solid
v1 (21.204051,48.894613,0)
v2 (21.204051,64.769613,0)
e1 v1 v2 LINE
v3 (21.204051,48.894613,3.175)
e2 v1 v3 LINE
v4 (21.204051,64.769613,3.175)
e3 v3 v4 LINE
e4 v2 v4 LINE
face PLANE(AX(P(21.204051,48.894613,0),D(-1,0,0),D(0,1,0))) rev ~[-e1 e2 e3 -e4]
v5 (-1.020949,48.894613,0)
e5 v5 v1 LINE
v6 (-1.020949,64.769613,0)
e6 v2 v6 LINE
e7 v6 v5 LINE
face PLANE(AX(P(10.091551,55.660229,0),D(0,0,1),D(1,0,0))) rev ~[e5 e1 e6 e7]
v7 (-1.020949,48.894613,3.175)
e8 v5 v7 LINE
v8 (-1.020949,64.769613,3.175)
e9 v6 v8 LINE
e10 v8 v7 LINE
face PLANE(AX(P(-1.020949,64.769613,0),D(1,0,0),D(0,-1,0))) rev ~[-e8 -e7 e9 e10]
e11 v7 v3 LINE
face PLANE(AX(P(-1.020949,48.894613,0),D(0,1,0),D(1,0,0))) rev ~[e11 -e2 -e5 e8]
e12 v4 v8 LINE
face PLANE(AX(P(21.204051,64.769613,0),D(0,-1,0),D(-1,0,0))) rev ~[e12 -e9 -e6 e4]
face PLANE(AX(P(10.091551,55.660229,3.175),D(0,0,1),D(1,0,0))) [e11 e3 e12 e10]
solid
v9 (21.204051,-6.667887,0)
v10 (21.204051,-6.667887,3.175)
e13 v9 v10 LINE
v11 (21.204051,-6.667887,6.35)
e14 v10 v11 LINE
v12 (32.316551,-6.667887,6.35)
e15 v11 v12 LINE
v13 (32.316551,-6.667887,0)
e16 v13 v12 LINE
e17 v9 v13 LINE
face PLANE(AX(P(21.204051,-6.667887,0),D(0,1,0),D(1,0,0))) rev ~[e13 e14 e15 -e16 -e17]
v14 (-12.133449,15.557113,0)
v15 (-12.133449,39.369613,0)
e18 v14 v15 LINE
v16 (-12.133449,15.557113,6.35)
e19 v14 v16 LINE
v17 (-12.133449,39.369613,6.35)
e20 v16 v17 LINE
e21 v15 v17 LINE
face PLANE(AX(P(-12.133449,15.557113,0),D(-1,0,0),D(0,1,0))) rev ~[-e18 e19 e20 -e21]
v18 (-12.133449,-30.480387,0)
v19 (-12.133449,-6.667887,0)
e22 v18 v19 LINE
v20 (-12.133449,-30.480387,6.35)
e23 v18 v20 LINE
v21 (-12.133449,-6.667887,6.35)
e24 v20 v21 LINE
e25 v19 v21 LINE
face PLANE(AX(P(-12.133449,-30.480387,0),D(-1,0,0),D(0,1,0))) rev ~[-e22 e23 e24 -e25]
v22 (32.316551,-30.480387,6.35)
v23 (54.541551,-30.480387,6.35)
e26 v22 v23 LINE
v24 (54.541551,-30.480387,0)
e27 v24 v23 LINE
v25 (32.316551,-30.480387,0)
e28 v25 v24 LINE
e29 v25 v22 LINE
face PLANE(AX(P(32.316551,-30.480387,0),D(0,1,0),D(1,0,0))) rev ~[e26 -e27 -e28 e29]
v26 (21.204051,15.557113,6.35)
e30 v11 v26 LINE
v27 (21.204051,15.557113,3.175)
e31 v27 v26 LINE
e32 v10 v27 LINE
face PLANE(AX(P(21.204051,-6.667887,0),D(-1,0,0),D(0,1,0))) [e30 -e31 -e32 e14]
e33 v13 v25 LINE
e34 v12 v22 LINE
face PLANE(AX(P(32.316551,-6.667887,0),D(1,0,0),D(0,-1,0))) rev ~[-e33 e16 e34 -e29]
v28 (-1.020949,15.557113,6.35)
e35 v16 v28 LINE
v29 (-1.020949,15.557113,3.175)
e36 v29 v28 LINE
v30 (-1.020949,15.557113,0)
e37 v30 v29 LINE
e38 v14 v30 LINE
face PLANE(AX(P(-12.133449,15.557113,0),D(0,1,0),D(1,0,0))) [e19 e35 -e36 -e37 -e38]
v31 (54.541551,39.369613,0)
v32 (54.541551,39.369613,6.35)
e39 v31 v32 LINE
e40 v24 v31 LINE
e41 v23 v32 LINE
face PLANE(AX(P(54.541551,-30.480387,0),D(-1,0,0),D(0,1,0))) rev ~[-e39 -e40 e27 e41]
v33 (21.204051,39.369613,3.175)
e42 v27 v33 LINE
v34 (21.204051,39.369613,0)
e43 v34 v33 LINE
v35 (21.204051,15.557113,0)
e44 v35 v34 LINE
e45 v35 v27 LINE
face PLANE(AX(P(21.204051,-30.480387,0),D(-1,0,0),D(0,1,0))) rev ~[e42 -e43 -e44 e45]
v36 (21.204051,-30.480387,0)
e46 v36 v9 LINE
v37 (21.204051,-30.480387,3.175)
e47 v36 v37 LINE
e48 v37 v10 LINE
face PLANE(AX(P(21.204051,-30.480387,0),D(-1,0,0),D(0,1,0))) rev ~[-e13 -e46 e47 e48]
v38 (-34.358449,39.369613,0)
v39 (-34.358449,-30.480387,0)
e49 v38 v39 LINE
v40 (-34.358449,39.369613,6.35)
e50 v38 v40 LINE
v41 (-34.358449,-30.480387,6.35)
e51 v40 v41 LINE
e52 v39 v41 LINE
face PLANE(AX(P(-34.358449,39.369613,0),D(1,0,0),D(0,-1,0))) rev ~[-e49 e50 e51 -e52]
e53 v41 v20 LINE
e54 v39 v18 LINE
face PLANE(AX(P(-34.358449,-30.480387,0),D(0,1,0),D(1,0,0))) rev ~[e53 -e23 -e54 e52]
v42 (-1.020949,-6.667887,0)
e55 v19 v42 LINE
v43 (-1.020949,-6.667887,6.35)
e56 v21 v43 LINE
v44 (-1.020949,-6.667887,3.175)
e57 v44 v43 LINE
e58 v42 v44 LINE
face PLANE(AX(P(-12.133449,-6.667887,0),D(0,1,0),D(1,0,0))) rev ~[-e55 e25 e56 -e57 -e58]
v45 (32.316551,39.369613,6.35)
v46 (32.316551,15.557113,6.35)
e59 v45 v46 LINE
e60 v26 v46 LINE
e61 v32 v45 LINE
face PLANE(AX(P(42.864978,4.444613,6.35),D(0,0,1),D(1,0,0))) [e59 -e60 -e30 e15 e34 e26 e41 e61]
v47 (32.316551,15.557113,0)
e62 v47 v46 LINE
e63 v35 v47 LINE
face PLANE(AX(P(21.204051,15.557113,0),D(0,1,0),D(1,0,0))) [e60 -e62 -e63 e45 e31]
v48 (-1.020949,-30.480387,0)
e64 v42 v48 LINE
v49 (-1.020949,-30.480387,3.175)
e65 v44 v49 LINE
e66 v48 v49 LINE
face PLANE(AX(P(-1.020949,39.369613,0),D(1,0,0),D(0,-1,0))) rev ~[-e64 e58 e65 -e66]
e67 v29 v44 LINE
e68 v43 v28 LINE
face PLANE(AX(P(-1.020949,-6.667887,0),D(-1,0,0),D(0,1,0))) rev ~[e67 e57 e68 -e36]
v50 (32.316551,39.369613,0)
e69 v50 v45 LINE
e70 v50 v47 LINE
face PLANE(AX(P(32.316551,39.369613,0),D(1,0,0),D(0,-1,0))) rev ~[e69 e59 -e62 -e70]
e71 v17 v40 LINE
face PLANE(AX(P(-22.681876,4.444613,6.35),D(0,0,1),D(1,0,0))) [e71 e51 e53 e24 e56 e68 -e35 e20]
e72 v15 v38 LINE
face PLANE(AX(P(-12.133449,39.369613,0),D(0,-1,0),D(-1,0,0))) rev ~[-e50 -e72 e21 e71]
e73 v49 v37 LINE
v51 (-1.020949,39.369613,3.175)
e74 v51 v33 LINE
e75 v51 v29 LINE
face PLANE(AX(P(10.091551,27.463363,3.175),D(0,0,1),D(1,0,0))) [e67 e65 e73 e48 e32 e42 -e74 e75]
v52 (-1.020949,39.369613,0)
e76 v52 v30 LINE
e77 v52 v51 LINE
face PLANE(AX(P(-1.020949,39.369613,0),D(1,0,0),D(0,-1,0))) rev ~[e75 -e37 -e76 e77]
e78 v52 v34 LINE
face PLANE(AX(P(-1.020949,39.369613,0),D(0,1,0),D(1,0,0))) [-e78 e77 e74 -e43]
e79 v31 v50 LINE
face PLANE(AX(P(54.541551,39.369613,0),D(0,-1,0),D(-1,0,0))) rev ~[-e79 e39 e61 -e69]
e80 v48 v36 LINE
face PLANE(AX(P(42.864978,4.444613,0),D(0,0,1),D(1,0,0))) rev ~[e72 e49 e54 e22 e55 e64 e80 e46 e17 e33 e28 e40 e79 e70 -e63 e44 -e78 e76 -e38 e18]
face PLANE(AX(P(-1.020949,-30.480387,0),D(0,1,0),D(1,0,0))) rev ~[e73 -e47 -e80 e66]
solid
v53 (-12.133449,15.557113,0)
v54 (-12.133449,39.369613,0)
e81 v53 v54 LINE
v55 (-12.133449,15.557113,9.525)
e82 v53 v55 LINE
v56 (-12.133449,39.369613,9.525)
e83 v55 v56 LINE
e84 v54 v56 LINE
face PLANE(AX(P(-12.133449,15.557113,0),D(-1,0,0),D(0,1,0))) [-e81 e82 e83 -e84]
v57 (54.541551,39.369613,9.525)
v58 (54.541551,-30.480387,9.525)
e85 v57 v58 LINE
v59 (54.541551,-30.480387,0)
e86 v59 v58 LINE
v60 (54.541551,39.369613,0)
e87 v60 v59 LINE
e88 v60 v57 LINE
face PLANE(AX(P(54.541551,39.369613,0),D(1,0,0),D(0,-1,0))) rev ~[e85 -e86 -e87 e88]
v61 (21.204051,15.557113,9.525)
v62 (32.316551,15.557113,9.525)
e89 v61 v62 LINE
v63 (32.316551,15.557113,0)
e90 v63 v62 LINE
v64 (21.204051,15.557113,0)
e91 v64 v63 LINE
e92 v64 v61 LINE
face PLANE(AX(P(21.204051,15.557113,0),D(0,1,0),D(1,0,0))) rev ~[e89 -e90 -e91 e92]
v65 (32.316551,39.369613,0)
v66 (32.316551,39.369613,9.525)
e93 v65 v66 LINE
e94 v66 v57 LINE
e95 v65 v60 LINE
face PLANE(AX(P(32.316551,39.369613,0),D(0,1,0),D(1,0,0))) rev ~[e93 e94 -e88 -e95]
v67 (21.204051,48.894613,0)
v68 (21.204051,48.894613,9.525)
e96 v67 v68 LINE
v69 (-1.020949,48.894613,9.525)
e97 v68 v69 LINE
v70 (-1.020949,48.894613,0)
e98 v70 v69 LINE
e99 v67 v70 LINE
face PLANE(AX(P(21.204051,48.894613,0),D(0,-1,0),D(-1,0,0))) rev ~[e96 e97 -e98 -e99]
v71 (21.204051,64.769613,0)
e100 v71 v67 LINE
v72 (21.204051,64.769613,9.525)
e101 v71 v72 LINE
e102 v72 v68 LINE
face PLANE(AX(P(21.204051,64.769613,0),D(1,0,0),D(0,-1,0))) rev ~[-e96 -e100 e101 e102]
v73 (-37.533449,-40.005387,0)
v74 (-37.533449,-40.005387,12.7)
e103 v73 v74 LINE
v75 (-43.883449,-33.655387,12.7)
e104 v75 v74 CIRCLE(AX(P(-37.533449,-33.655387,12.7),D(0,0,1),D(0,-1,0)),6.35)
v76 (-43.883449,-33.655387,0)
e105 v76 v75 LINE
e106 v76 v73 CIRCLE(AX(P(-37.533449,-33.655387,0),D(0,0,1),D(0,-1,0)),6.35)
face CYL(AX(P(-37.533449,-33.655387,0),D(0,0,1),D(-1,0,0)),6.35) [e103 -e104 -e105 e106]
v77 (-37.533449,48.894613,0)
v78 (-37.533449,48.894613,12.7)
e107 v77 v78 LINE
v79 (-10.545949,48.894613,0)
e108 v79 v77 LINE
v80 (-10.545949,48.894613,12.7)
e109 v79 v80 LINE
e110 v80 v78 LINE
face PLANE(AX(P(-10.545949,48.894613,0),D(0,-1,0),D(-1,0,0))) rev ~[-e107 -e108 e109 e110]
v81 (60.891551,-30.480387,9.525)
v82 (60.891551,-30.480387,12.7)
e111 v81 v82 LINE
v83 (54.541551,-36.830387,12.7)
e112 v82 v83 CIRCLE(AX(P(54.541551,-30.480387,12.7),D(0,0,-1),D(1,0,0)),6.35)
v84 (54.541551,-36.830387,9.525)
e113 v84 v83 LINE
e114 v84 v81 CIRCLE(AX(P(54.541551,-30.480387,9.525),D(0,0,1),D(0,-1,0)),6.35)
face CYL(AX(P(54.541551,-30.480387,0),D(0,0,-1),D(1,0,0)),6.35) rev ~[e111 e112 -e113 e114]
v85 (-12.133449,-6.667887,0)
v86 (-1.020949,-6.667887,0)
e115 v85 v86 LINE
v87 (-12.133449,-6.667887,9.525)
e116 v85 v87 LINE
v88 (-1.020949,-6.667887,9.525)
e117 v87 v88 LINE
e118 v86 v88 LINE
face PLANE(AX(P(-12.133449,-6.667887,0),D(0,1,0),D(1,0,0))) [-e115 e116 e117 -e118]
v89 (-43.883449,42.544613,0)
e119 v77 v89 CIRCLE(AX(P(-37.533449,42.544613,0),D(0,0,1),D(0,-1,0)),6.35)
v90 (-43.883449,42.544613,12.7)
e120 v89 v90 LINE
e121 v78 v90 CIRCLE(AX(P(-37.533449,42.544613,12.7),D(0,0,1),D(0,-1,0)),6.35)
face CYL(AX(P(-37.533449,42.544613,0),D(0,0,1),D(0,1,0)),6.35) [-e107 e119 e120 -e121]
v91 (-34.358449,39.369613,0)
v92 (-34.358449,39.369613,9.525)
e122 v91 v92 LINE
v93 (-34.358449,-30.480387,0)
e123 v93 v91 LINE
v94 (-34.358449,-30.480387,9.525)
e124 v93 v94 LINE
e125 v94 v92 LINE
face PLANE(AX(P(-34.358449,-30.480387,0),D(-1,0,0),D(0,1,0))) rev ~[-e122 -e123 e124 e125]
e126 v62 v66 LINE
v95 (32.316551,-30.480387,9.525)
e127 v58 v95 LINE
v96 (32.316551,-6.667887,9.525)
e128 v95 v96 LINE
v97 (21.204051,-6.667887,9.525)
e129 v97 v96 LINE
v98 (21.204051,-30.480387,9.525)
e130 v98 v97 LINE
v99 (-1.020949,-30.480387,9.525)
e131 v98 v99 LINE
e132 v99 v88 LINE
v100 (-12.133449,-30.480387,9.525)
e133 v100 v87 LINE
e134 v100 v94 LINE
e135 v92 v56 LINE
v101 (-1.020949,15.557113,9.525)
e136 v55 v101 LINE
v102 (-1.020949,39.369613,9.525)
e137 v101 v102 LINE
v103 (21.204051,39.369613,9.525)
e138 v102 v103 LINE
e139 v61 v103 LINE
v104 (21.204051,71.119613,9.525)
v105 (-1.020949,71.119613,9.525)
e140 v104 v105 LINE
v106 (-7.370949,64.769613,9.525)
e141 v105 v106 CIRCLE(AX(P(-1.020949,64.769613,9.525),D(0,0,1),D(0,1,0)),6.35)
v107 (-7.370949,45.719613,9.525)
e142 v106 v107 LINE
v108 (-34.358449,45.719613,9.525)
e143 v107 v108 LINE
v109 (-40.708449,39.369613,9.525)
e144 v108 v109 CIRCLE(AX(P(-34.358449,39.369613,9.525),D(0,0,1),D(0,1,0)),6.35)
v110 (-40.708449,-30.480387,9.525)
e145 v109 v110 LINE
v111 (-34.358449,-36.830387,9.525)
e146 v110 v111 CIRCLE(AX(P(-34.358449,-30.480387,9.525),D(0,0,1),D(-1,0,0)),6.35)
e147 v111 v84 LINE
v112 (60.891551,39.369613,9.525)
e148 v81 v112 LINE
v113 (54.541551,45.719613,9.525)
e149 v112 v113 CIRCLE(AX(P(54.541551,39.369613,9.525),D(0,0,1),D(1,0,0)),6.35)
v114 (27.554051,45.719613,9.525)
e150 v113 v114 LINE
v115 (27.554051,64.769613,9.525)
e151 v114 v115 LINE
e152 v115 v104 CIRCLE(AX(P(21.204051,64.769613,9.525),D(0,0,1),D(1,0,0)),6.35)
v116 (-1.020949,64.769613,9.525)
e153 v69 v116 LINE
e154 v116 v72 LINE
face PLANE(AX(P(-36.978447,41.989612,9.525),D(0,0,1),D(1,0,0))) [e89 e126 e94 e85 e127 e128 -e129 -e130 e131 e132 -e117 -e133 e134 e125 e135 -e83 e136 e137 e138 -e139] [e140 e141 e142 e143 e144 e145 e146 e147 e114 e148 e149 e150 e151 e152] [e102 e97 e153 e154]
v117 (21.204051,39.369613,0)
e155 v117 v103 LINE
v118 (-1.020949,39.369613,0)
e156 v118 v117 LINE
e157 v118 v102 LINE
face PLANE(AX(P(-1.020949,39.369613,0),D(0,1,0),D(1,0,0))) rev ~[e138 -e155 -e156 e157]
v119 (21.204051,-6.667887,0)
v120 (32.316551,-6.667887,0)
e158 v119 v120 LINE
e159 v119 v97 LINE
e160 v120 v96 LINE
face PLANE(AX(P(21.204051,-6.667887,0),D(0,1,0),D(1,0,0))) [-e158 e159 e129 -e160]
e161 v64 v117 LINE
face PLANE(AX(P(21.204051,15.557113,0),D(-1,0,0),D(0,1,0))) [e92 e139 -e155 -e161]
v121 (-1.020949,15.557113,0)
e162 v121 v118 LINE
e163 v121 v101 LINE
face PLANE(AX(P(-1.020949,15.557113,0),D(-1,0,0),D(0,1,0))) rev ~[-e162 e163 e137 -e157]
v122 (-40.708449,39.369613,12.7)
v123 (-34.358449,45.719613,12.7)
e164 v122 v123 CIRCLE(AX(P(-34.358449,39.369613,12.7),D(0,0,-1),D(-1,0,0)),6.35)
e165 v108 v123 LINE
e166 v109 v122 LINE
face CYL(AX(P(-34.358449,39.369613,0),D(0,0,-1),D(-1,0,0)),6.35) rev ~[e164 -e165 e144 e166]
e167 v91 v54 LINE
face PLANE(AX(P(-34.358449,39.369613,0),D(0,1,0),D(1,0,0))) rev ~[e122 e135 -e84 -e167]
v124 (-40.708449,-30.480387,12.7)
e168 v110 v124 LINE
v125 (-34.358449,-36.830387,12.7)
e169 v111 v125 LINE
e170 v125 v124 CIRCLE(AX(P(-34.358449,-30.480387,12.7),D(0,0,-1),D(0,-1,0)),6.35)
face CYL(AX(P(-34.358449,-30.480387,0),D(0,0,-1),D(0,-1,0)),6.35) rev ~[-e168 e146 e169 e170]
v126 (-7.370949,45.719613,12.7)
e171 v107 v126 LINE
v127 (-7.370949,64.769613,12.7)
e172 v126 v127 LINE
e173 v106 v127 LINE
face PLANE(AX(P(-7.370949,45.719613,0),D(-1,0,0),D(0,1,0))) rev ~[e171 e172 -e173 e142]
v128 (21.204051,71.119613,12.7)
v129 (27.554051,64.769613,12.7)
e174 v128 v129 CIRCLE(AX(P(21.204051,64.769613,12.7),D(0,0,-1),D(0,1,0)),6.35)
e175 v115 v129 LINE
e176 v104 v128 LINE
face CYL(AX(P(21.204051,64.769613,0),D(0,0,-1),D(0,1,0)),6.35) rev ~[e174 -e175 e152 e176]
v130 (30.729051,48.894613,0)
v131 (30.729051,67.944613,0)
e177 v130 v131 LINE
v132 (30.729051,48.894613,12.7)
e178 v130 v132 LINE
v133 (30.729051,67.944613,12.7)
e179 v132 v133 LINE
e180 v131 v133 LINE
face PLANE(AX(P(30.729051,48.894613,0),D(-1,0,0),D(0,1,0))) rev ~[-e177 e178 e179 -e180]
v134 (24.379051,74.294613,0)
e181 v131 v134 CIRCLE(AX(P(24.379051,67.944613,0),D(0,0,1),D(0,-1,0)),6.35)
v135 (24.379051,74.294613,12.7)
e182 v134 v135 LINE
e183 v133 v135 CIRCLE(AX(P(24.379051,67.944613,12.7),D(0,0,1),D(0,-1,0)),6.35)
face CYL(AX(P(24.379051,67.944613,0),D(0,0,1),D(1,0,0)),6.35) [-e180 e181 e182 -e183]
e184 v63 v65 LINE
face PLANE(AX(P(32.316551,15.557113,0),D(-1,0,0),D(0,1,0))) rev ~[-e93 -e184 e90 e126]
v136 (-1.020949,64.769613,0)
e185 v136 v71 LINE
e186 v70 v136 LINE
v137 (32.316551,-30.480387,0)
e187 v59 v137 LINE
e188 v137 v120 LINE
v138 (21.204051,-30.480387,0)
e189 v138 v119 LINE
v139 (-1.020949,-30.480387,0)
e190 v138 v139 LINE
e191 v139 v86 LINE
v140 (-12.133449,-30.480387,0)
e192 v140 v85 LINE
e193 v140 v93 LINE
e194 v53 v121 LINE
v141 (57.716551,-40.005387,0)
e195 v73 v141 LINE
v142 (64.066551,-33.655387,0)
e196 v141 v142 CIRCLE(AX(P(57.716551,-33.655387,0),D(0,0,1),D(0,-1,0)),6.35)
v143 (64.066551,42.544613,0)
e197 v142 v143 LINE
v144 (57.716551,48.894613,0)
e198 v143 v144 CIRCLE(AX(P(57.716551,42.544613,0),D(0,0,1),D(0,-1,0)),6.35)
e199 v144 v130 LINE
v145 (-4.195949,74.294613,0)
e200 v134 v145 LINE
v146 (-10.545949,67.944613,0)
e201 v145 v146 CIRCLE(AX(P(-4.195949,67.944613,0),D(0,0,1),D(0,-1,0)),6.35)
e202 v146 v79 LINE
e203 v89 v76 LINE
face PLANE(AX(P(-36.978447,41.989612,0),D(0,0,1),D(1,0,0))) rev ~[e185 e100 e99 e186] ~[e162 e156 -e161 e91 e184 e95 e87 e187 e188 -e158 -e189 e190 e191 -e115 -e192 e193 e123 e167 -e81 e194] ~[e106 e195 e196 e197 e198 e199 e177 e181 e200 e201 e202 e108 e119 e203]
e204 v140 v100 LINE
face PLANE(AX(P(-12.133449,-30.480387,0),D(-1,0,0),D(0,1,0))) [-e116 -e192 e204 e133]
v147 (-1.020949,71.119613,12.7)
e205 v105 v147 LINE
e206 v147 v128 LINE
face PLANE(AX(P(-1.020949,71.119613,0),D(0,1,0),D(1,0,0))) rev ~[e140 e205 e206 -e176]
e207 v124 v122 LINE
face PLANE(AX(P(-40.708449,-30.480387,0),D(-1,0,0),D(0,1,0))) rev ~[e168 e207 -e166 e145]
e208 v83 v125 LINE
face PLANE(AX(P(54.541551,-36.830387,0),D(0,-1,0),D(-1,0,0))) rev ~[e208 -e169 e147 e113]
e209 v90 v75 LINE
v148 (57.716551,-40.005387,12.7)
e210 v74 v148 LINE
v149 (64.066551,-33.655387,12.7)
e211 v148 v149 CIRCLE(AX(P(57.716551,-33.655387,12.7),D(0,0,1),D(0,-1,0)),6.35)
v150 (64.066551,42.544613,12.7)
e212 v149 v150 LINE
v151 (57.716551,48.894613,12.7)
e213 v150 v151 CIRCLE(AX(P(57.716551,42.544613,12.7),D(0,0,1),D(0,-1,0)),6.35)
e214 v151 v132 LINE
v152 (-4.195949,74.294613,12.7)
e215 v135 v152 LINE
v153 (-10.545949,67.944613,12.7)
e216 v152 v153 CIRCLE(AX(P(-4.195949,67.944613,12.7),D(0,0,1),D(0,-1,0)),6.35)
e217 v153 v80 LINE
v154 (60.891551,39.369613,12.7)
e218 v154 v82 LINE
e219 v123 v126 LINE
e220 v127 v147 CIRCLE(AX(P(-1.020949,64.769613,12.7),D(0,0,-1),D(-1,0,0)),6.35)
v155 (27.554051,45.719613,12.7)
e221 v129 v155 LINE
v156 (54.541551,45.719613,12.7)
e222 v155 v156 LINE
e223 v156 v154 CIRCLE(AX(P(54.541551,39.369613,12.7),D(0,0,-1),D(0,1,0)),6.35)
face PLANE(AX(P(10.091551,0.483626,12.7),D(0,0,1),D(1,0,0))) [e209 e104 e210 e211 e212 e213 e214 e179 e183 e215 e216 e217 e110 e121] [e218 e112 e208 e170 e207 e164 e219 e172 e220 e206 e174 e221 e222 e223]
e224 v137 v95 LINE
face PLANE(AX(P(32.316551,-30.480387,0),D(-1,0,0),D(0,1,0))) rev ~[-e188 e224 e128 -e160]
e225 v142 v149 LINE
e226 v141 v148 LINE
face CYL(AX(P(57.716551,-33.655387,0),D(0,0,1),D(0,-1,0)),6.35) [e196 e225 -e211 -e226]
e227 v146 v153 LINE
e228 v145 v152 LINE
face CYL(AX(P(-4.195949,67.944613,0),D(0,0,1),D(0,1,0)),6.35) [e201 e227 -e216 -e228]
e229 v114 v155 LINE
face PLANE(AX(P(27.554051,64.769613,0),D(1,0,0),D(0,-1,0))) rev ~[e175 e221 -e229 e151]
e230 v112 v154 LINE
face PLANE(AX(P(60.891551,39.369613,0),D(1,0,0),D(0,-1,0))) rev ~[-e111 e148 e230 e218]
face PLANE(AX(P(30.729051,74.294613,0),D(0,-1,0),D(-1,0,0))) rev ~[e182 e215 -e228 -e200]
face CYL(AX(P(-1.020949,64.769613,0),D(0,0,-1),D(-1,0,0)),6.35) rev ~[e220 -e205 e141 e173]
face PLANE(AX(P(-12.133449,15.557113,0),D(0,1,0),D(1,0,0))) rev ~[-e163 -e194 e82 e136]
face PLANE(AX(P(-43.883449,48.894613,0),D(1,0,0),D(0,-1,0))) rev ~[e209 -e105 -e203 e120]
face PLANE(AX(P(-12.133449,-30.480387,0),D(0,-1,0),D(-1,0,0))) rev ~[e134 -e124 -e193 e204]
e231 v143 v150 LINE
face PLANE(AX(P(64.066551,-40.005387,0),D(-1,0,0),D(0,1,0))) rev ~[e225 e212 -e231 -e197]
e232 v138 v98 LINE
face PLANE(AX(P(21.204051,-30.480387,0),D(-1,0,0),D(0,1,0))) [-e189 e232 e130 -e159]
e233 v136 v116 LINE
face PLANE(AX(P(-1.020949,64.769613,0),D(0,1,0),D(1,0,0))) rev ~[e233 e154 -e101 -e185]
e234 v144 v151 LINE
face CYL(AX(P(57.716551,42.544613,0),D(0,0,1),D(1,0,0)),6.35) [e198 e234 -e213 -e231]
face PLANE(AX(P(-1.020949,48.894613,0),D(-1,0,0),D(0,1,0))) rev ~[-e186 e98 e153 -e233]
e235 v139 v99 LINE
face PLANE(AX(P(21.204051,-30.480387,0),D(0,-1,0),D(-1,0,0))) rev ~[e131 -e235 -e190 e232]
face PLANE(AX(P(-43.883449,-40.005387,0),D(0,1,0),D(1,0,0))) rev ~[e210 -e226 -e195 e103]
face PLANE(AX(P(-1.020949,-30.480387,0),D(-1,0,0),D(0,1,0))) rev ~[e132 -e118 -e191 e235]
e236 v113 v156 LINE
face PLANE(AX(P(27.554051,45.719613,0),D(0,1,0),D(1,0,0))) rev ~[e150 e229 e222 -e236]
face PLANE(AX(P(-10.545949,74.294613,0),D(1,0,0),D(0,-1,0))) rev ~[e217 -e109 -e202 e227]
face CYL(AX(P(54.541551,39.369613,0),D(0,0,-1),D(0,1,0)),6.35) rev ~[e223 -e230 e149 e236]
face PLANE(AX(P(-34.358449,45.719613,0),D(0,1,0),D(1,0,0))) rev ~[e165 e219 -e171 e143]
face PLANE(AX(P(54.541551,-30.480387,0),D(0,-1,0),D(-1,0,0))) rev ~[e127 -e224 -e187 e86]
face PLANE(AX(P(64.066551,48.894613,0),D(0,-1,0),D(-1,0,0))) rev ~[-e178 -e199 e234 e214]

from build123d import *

# Parameters (mm, degrees)
F0_W     = 22.225
F0_H     = 23.8125
F0_H_2   = 22.225
F1_DEPTH = 3.175
F0_W_2   = 11.1125
F2_DEPTH = 6.35
F0_W_3   = 6.35
F0_H_3   = 3.175
F3_DEPTH = 9.525
F4_DEPTH = 12.7
F5_R     = 6.35


with BuildPart() as f1:
    # F0 (on Top) → F1 (new body)
    with BuildSketch(Plane.XY):
        with Locations((10.0915509015, 27.4633634105)):
            Rectangle(F0_W, F0_H)
        with Locations((10.0915509015, 4.4446134105)):
            Rectangle(F0_W, F0_H_2)
        with Locations((10.0915509015, -18.5741365895)):
            Rectangle(F0_W, F0_H)
    extrude(amount=F1_DEPTH)

    # F0 (on Top) → F2 (join)
    with BuildSketch(Plane.XY):
        with BuildLine():
            Line((48.1915509015, 39.3696134105), (32.3165509015, 39.3696134105))
            Line((32.3165509015, 39.3696134105), (32.3165509015, 15.5571134105))
            Line((32.3165509015, 15.5571134105), (32.3165509015, -6.6678865895))
            Line((32.3165509015, -6.6678865895), (32.3165509015, -30.4803865895))
            Line((32.3165509015, -30.4803865895), (48.1915509015, -30.4803865895))
            ThreePointArc((48.1915509015, -30.4803865895), (50.051422841, -25.9902585289), (54.5415509015, -24.1303865895))
            Line((54.5415509015, -24.1303865895), (54.5415509015, 33.0196134105))
            ThreePointArc((54.5415509015, 33.0196134105), (50.051422841, 34.87948535), (48.1915509015, 39.3696134105))
        make_face()
        with BuildLine():
            Line((-12.1334490985, 39.3696134105), (-28.0084490985, 39.3696134105))
            ThreePointArc((-28.0084490985, 39.3696134105), (-29.8683210379, 34.87948535), (-34.3584490985, 33.0196134105))
            Line((-34.3584490985, 33.0196134105), (-34.3584490985, -24.1303865895))
            ThreePointArc((-34.3584490985, -24.1303865895), (-29.8683210379, -25.9902585289), (-28.0084490985, -30.4803865895))
            Line((-28.0084490985, -30.4803865895), (-12.1334490985, -30.4803865895))
            Line((-12.1334490985, -30.4803865895), (-12.1334490985, -6.6678865895))
            Line((-12.1334490985, -6.6678865895), (-12.1334490985, 15.5571134105))
            Line((-12.1334490985, 15.5571134105), (-12.1334490985, 39.3696134105))
        make_face()
        with Locations((-6.5771990985, 4.4446134105)):
            Rectangle(F0_W_2, F0_H_2)
        with Locations((26.7603009015, 4.4446134105)):
            Rectangle(F0_W_2, F0_H_2)
        with BuildLine():
            Line((-28.0084490985, 39.3696134105), (-34.3584490985, 39.3696134105))
            Line((-34.3584490985, 39.3696134105), (-34.3584490985, 33.0196134105))
            ThreePointArc((-34.3584490985, 33.0196134105), (-29.8683210379, 34.87948535), (-28.0084490985, 39.3696134105))
        make_face()
        with BuildLine():
            ThreePointArc((-28.0084490985, -30.4803865895), (-29.8683210379, -25.9902585289), (-34.3584490985, -24.1303865895))
            Line((-34.3584490985, -24.1303865895), (-34.3584490985, -30.4803865895))
            Line((-34.3584490985, -30.4803865895), (-28.0084490985, -30.4803865895))
        make_face()
        with BuildLine():
            Line((54.5415509015, 39.3696134105), (48.1915509015, 39.3696134105))
            ThreePointArc((48.1915509015, 39.3696134105), (50.051422841, 34.87948535), (54.5415509015, 33.0196134105))
            Line((54.5415509015, 33.0196134105), (54.5415509015, 39.3696134105))
        make_face()
        with BuildLine():
            Line((48.1915509015, -30.4803865895), (54.5415509015, -30.4803865895))
            Line((54.5415509015, -30.4803865895), (54.5415509015, -24.1303865895))
            ThreePointArc((54.5415509015, -24.1303865895), (50.051422841, -25.9902585289), (48.1915509015, -30.4803865895))
        make_face()
    extrude(amount=F2_DEPTH)


with BuildPart() as f1b:
    # F0 (on Top) → F1, piece 2 (new body)
    with BuildSketch(Plane.XY):
        with BuildLine():
            Line((-1.0209490985, 58.4196134105), (-1.0209490985, 48.8946134105))
            Line((-1.0209490985, 48.8946134105), (21.2040509015, 48.8946134105))
            Line((21.2040509015, 48.8946134105), (21.2040509015, 58.4196134105))
            ThreePointArc((21.2040509015, 58.4196134105), (16.713922841, 60.27948535), (14.8540509015, 64.7696134105))
            Line((14.8540509015, 64.7696134105), (5.3290509015, 64.7696134105))
            ThreePointArc((5.3290509015, 64.7696134105), (3.4691789621, 60.27948535), (-1.0209490985, 58.4196134105))
        make_face()
        with BuildLine():
            Line((-1.0209490985, 64.7696134105), (-1.0209490985, 58.4196134105))
            ThreePointArc((-1.0209490985, 58.4196134105), (3.4691789621, 60.27948535), (5.3290509015, 64.7696134105))
            Line((5.3290509015, 64.7696134105), (-1.0209490985, 64.7696134105))
        make_face()
        with BuildLine():
            ThreePointArc((14.8540509015, 64.7696134105), (16.713922841, 60.27948535), (21.2040509015, 58.4196134105))
            Line((21.2040509015, 58.4196134105), (21.2040509015, 64.7696134105))
            Line((21.2040509015, 64.7696134105), (14.8540509015, 64.7696134105))
        make_face()
    extrude(amount=F1_DEPTH)


with BuildPart() as f3:
    # F0 (on Top) → F3 (new body)
    with BuildSketch(Plane.XY):
        with BuildLine():
            Line((-40.7084490985, 39.3696134105), (-34.3584490985, 39.3696134105))
            Line((-34.3584490985, 39.3696134105), (-34.3584490985, 45.7196134105))
            ThreePointArc((-34.3584490985, 45.7196134105), (-38.848577159, 43.8597414711), (-40.7084490985, 39.3696134105))
        make_face()
        with BuildLine():
            Line((-34.3584490985, 45.7196134105), (-34.3584490985, 39.3696134105))
            Line((-34.3584490985, 39.3696134105), (-28.0084490985, 39.3696134105))
            ThreePointArc((-28.0084490985, 39.3696134105), (-29.8683210379, 43.8597414711), (-34.3584490985, 45.7196134105))
        make_face()
        with BuildLine():
            ThreePointArc((-34.3584490985, 45.7196134105), (-29.8683210379, 43.8597414711), (-28.0084490985, 39.3696134105))
            Line((-28.0084490985, 39.3696134105), (-12.1334490985, 39.3696134105))
            Line((-12.1334490985, 39.3696134105), (-1.0209490985, 39.3696134105))
            Line((-1.0209490985, 39.3696134105), (21.2040509015, 39.3696134105))
            Line((21.2040509015, 39.3696134105), (32.3165509015, 39.3696134105))
            Line((32.3165509015, 39.3696134105), (48.1915509015, 39.3696134105))
            ThreePointArc((48.1915509015, 39.3696134105), (50.051422841, 43.8597414711), (54.5415509015, 45.7196134105))
            Line((54.5415509015, 45.7196134105), (27.5540509015, 45.7196134105))
            Line((27.5540509015, 45.7196134105), (21.2040509015, 45.7196134105))
            Line((21.2040509015, 45.7196134105), (-1.0209490985, 45.7196134105))
            Line((-1.0209490985, 45.7196134105), (-7.3709490985, 45.7196134105))
            Line((-7.3709490985, 45.7196134105), (-34.3584490985, 45.7196134105))
        make_face()
        with BuildLine():
            ThreePointArc((54.5415509015, 45.7196134105), (50.051422841, 43.8597414711), (48.1915509015, 39.3696134105))
            Line((48.1915509015, 39.3696134105), (54.5415509015, 39.3696134105))
            Line((54.5415509015, 39.3696134105), (54.5415509015, 45.7196134105))
        make_face()
        with BuildLine():
            ThreePointArc((60.8915509015, 39.3696134105), (59.0316789621, 43.8597414711), (54.5415509015, 45.7196134105))
            Line((54.5415509015, 45.7196134105), (54.5415509015, 39.3696134105))
            Line((54.5415509015, 39.3696134105), (60.8915509015, 39.3696134105))
        make_face()
        with BuildLine():
            ThreePointArc((54.5415509015, 33.0196134105), (59.0316789621, 34.87948535), (60.8915509015, 39.3696134105))
            Line((60.8915509015, 39.3696134105), (54.5415509015, 39.3696134105))
            Line((54.5415509015, 39.3696134105), (54.5415509015, 33.0196134105))
        make_face()
        with BuildLine():
            ThreePointArc((54.5415509015, -24.1303865895), (59.0316789621, -25.9902585289), (60.8915509015, -30.4803865895))
            Line((60.8915509015, -30.4803865895), (60.8915509015, 39.3696134105))
            ThreePointArc((60.8915509015, 39.3696134105), (59.0316789621, 34.87948535), (54.5415509015, 33.0196134105))
            Line((54.5415509015, 33.0196134105), (54.5415509015, -24.1303865895))
        make_face()
        with BuildLine():
            Line((54.5415509015, -24.1303865895), (54.5415509015, -30.4803865895))
            Line((54.5415509015, -30.4803865895), (60.8915509015, -30.4803865895))
            ThreePointArc((60.8915509015, -30.4803865895), (59.0316789621, -25.9902585289), (54.5415509015, -24.1303865895))
        make_face()
        with BuildLine():
            Line((54.5415509015, -30.4803865895), (54.5415509015, -36.8303865895))
            ThreePointArc((54.5415509015, -36.8303865895), (59.0316789621, -34.97051465), (60.8915509015, -30.4803865895))
            Line((60.8915509015, -30.4803865895), (54.5415509015, -30.4803865895))
        make_face()
        with BuildLine():
            ThreePointArc((48.1915509015, -30.4803865895), (50.051422841, -34.97051465), (54.5415509015, -36.8303865895))
            Line((54.5415509015, -36.8303865895), (54.5415509015, -30.4803865895))
            Line((54.5415509015, -30.4803865895), (48.1915509015, -30.4803865895))
        make_face()
        with BuildLine():
            Line((-12.1334490985, -30.4803865895), (-28.0084490985, -30.4803865895))
            ThreePointArc((-28.0084490985, -30.4803865895), (-29.8683210379, -34.97051465), (-34.3584490985, -36.8303865895))
            Line((-34.3584490985, -36.8303865895), (54.5415509015, -36.8303865895))
            ThreePointArc((54.5415509015, -36.8303865895), (50.051422841, -34.97051465), (48.1915509015, -30.4803865895))
            Line((48.1915509015, -30.4803865895), (32.3165509015, -30.4803865895))
            Line((32.3165509015, -30.4803865895), (21.2040509015, -30.4803865895))
            Line((21.2040509015, -30.4803865895), (-1.0209490985, -30.4803865895))
            Line((-1.0209490985, -30.4803865895), (-12.1334490985, -30.4803865895))
        make_face()
        with BuildLine():
            Line((-28.0084490985, -30.4803865895), (-34.3584490985, -30.4803865895))
            Line((-34.3584490985, -30.4803865895), (-34.3584490985, -36.8303865895))
            ThreePointArc((-34.3584490985, -36.8303865895), (-29.8683210379, -34.97051465), (-28.0084490985, -30.4803865895))
        make_face()
        with BuildLine():
            Line((-34.3584490985, -30.4803865895), (-40.7084490985, -30.4803865895))
            ThreePointArc((-40.7084490985, -30.4803865895), (-38.848577159, -34.97051465), (-34.3584490985, -36.8303865895))
            Line((-34.3584490985, -36.8303865895), (-34.3584490985, -30.4803865895))
        make_face()
        with BuildLine():
            Line((-34.3584490985, -24.1303865895), (-34.3584490985, 33.0196134105))
            ThreePointArc((-34.3584490985, 33.0196134105), (-38.848577159, 34.87948535), (-40.7084490985, 39.3696134105))
            Line((-40.7084490985, 39.3696134105), (-40.7084490985, -30.4803865895))
            ThreePointArc((-40.7084490985, -30.4803865895), (-38.848577159, -25.9902585289), (-34.3584490985, -24.1303865895))
        make_face()
        with BuildLine():
            Line((-34.3584490985, -30.4803865895), (-34.3584490985, -24.1303865895))
            ThreePointArc((-34.3584490985, -24.1303865895), (-38.848577159, -25.9902585289), (-40.7084490985, -30.4803865895))
            Line((-40.7084490985, -30.4803865895), (-34.3584490985, -30.4803865895))
        make_face()
        with BuildLine():
            Line((-34.3584490985, 33.0196134105), (-34.3584490985, 39.3696134105))
            Line((-34.3584490985, 39.3696134105), (-40.7084490985, 39.3696134105))
            ThreePointArc((-40.7084490985, 39.3696134105), (-38.848577159, 34.87948535), (-34.3584490985, 33.0196134105))
        make_face()
        with Locations((-6.5771990985, 27.4633634105)):
            Rectangle(F0_W_2, F0_H)
        with Locations((26.7603009015, 27.4633634105)):
            Rectangle(F0_W_2, F0_H)
        with Locations((-6.5771990985, -18.5741365895)):
            Rectangle(F0_W_2, F0_H)
        with Locations((26.7603009015, -18.5741365895)):
            Rectangle(F0_W_2, F0_H)
        with Locations((-4.1959490985, 47.3071134105)):
            Rectangle(F0_W_3, F0_H_3)
        with Locations((10.0915509015, 47.3071134105)):
            Rectangle(F0_W, F0_H_3)
        with Locations((24.3790509015, 47.3071134105)):
            Rectangle(F0_W_3, F0_H_3)
        with BuildLine():
            Line((21.2040509015, 58.4196134105), (21.2040509015, 48.8946134105))
            Line((21.2040509015, 48.8946134105), (27.5540509015, 48.8946134105))
            Line((27.5540509015, 48.8946134105), (27.5540509015, 64.7696134105))
            ThreePointArc((27.5540509015, 64.7696134105), (25.6941789621, 60.27948535), (21.2040509015, 58.4196134105))
        make_face()
        with BuildLine():
            Line((21.2040509015, 64.7696134105), (21.2040509015, 58.4196134105))
            ThreePointArc((21.2040509015, 58.4196134105), (25.6941789621, 60.27948535), (27.5540509015, 64.7696134105))
            Line((27.5540509015, 64.7696134105), (21.2040509015, 64.7696134105))
        make_face()
        with BuildLine():
            ThreePointArc((27.5540509015, 64.7696134105), (25.6941789621, 69.2597414711), (21.2040509015, 71.1196134105))
            Line((21.2040509015, 71.1196134105), (21.2040509015, 64.7696134105))
            Line((21.2040509015, 64.7696134105), (27.5540509015, 64.7696134105))
        make_face()
        with BuildLine():
            Line((21.2040509015, 64.7696134105), (21.2040509015, 71.1196134105))
            ThreePointArc((21.2040509015, 71.1196134105), (16.713922841, 69.2597414711), (14.8540509015, 64.7696134105))
            Line((14.8540509015, 64.7696134105), (21.2040509015, 64.7696134105))
        make_face()
        with BuildLine():
            Line((21.2040509015, 71.1196134105), (-1.0209490985, 71.1196134105))
            ThreePointArc((-1.0209490985, 71.1196134105), (3.4691789621, 69.2597414711), (5.3290509015, 64.7696134105))
            Line((5.3290509015, 64.7696134105), (14.8540509015, 64.7696134105))
            ThreePointArc((14.8540509015, 64.7696134105), (16.713922841, 69.2597414711), (21.2040509015, 71.1196134105))
        make_face()
        with BuildLine():
            Line((-1.0209490985, 71.1196134105), (-1.0209490985, 64.7696134105))
            Line((-1.0209490985, 64.7696134105), (5.3290509015, 64.7696134105))
            ThreePointArc((5.3290509015, 64.7696134105), (3.4691789621, 69.2597414711), (-1.0209490985, 71.1196134105))
        make_face()
        with BuildLine():
            ThreePointArc((-1.0209490985, 71.1196134105), (-5.511077159, 69.2597414711), (-7.3709490985, 64.7696134105))
            Line((-7.3709490985, 64.7696134105), (-1.0209490985, 64.7696134105))
            Line((-1.0209490985, 64.7696134105), (-1.0209490985, 71.1196134105))
        make_face()
        with BuildLine():
            Line((-1.0209490985, 64.7696134105), (-7.3709490985, 64.7696134105))
            ThreePointArc((-7.3709490985, 64.7696134105), (-5.511077159, 60.27948535), (-1.0209490985, 58.4196134105))
            Line((-1.0209490985, 58.4196134105), (-1.0209490985, 64.7696134105))
        make_face()
        with BuildLine():
            Line((-7.3709490985, 64.7696134105), (-7.3709490985, 48.8946134105))
            Line((-7.3709490985, 48.8946134105), (-1.0209490985, 48.8946134105))
            Line((-1.0209490985, 48.8946134105), (-1.0209490985, 58.4196134105))
            ThreePointArc((-1.0209490985, 58.4196134105), (-5.511077159, 60.27948535), (-7.3709490985, 64.7696134105))
        make_face()
    extrude(amount=F3_DEPTH)

    # F0 (on Top) → F4 (join)
    with BuildSketch(Plane.XY):
        with BuildLine():
            ThreePointArc((-40.7084490985, 39.3696134105), (-38.848577159, 43.8597414711), (-34.3584490985, 45.7196134105))
            Line((-34.3584490985, 45.7196134105), (-7.3709490985, 45.7196134105))
            Line((-7.3709490985, 45.7196134105), (-7.3709490985, 48.8946134105))
            Line((-7.3709490985, 48.8946134105), (-10.5459490985, 48.8946134105))
            Line((-10.5459490985, 48.8946134105), (-43.8834490985, 48.8946134105))
            Line((-43.8834490985, 48.8946134105), (-43.8834490985, -40.0053865895))
            Line((-43.8834490985, -40.0053865895), (64.0665509015, -40.0053865895))
            Line((64.0665509015, -40.0053865895), (64.0665509015, 48.8946134105))
            Line((64.0665509015, 48.8946134105), (30.7290509015, 48.8946134105))
            Line((30.7290509015, 48.8946134105), (27.5540509015, 48.8946134105))
            Line((27.5540509015, 48.8946134105), (27.5540509015, 45.7196134105))
            Line((27.5540509015, 45.7196134105), (54.5415509015, 45.7196134105))
            ThreePointArc((54.5415509015, 45.7196134105), (59.0316789621, 43.8597414711), (60.8915509015, 39.3696134105))
            Line((60.8915509015, 39.3696134105), (60.8915509015, -30.4803865895))
            ThreePointArc((60.8915509015, -30.4803865895), (59.0316789621, -34.97051465), (54.5415509015, -36.8303865895))
            Line((54.5415509015, -36.8303865895), (-34.3584490985, -36.8303865895))
            ThreePointArc((-34.3584490985, -36.8303865895), (-38.848577159, -34.97051465), (-40.7084490985, -30.4803865895))
            Line((-40.7084490985, -30.4803865895), (-40.7084490985, 39.3696134105))
        make_face()
        with BuildLine():
            Line((-10.5459490985, 48.8946134105), (-7.3709490985, 48.8946134105))
            Line((-7.3709490985, 48.8946134105), (-7.3709490985, 64.7696134105))
            ThreePointArc((-7.3709490985, 64.7696134105), (-5.511077159, 69.2597414711), (-1.0209490985, 71.1196134105))
            Line((-1.0209490985, 71.1196134105), (21.2040509015, 71.1196134105))
            ThreePointArc((21.2040509015, 71.1196134105), (25.6941789621, 69.2597414711), (27.5540509015, 64.7696134105))
            Line((27.5540509015, 64.7696134105), (27.5540509015, 48.8946134105))
            Line((27.5540509015, 48.8946134105), (30.7290509015, 48.8946134105))
            Line((30.7290509015, 48.8946134105), (30.7290509015, 74.2946134105))
            Line((30.7290509015, 74.2946134105), (-10.5459490985, 74.2946134105))
            Line((-10.5459490985, 74.2946134105), (-10.5459490985, 48.8946134105))
        make_face()
    extrude(amount=F4_DEPTH)

    # F5
    f5_edges = [f3.edges().sort_by_distance(p)[0] for p in [
        (-43.883449, 48.894613, 6.35),
        (64.066551, 48.894613, 6.35),
        (64.066551, -40.005387, 6.35),
        (-43.883449, -40.005387, 6.35),
        (-10.545949, 74.294613, 6.35),
        (30.729051, 74.294613, 6.35),
    ]]
    fillet(f5_edges, radius=F5_R)


solid = Compound([f1.part, f1b.part, f3.part])
